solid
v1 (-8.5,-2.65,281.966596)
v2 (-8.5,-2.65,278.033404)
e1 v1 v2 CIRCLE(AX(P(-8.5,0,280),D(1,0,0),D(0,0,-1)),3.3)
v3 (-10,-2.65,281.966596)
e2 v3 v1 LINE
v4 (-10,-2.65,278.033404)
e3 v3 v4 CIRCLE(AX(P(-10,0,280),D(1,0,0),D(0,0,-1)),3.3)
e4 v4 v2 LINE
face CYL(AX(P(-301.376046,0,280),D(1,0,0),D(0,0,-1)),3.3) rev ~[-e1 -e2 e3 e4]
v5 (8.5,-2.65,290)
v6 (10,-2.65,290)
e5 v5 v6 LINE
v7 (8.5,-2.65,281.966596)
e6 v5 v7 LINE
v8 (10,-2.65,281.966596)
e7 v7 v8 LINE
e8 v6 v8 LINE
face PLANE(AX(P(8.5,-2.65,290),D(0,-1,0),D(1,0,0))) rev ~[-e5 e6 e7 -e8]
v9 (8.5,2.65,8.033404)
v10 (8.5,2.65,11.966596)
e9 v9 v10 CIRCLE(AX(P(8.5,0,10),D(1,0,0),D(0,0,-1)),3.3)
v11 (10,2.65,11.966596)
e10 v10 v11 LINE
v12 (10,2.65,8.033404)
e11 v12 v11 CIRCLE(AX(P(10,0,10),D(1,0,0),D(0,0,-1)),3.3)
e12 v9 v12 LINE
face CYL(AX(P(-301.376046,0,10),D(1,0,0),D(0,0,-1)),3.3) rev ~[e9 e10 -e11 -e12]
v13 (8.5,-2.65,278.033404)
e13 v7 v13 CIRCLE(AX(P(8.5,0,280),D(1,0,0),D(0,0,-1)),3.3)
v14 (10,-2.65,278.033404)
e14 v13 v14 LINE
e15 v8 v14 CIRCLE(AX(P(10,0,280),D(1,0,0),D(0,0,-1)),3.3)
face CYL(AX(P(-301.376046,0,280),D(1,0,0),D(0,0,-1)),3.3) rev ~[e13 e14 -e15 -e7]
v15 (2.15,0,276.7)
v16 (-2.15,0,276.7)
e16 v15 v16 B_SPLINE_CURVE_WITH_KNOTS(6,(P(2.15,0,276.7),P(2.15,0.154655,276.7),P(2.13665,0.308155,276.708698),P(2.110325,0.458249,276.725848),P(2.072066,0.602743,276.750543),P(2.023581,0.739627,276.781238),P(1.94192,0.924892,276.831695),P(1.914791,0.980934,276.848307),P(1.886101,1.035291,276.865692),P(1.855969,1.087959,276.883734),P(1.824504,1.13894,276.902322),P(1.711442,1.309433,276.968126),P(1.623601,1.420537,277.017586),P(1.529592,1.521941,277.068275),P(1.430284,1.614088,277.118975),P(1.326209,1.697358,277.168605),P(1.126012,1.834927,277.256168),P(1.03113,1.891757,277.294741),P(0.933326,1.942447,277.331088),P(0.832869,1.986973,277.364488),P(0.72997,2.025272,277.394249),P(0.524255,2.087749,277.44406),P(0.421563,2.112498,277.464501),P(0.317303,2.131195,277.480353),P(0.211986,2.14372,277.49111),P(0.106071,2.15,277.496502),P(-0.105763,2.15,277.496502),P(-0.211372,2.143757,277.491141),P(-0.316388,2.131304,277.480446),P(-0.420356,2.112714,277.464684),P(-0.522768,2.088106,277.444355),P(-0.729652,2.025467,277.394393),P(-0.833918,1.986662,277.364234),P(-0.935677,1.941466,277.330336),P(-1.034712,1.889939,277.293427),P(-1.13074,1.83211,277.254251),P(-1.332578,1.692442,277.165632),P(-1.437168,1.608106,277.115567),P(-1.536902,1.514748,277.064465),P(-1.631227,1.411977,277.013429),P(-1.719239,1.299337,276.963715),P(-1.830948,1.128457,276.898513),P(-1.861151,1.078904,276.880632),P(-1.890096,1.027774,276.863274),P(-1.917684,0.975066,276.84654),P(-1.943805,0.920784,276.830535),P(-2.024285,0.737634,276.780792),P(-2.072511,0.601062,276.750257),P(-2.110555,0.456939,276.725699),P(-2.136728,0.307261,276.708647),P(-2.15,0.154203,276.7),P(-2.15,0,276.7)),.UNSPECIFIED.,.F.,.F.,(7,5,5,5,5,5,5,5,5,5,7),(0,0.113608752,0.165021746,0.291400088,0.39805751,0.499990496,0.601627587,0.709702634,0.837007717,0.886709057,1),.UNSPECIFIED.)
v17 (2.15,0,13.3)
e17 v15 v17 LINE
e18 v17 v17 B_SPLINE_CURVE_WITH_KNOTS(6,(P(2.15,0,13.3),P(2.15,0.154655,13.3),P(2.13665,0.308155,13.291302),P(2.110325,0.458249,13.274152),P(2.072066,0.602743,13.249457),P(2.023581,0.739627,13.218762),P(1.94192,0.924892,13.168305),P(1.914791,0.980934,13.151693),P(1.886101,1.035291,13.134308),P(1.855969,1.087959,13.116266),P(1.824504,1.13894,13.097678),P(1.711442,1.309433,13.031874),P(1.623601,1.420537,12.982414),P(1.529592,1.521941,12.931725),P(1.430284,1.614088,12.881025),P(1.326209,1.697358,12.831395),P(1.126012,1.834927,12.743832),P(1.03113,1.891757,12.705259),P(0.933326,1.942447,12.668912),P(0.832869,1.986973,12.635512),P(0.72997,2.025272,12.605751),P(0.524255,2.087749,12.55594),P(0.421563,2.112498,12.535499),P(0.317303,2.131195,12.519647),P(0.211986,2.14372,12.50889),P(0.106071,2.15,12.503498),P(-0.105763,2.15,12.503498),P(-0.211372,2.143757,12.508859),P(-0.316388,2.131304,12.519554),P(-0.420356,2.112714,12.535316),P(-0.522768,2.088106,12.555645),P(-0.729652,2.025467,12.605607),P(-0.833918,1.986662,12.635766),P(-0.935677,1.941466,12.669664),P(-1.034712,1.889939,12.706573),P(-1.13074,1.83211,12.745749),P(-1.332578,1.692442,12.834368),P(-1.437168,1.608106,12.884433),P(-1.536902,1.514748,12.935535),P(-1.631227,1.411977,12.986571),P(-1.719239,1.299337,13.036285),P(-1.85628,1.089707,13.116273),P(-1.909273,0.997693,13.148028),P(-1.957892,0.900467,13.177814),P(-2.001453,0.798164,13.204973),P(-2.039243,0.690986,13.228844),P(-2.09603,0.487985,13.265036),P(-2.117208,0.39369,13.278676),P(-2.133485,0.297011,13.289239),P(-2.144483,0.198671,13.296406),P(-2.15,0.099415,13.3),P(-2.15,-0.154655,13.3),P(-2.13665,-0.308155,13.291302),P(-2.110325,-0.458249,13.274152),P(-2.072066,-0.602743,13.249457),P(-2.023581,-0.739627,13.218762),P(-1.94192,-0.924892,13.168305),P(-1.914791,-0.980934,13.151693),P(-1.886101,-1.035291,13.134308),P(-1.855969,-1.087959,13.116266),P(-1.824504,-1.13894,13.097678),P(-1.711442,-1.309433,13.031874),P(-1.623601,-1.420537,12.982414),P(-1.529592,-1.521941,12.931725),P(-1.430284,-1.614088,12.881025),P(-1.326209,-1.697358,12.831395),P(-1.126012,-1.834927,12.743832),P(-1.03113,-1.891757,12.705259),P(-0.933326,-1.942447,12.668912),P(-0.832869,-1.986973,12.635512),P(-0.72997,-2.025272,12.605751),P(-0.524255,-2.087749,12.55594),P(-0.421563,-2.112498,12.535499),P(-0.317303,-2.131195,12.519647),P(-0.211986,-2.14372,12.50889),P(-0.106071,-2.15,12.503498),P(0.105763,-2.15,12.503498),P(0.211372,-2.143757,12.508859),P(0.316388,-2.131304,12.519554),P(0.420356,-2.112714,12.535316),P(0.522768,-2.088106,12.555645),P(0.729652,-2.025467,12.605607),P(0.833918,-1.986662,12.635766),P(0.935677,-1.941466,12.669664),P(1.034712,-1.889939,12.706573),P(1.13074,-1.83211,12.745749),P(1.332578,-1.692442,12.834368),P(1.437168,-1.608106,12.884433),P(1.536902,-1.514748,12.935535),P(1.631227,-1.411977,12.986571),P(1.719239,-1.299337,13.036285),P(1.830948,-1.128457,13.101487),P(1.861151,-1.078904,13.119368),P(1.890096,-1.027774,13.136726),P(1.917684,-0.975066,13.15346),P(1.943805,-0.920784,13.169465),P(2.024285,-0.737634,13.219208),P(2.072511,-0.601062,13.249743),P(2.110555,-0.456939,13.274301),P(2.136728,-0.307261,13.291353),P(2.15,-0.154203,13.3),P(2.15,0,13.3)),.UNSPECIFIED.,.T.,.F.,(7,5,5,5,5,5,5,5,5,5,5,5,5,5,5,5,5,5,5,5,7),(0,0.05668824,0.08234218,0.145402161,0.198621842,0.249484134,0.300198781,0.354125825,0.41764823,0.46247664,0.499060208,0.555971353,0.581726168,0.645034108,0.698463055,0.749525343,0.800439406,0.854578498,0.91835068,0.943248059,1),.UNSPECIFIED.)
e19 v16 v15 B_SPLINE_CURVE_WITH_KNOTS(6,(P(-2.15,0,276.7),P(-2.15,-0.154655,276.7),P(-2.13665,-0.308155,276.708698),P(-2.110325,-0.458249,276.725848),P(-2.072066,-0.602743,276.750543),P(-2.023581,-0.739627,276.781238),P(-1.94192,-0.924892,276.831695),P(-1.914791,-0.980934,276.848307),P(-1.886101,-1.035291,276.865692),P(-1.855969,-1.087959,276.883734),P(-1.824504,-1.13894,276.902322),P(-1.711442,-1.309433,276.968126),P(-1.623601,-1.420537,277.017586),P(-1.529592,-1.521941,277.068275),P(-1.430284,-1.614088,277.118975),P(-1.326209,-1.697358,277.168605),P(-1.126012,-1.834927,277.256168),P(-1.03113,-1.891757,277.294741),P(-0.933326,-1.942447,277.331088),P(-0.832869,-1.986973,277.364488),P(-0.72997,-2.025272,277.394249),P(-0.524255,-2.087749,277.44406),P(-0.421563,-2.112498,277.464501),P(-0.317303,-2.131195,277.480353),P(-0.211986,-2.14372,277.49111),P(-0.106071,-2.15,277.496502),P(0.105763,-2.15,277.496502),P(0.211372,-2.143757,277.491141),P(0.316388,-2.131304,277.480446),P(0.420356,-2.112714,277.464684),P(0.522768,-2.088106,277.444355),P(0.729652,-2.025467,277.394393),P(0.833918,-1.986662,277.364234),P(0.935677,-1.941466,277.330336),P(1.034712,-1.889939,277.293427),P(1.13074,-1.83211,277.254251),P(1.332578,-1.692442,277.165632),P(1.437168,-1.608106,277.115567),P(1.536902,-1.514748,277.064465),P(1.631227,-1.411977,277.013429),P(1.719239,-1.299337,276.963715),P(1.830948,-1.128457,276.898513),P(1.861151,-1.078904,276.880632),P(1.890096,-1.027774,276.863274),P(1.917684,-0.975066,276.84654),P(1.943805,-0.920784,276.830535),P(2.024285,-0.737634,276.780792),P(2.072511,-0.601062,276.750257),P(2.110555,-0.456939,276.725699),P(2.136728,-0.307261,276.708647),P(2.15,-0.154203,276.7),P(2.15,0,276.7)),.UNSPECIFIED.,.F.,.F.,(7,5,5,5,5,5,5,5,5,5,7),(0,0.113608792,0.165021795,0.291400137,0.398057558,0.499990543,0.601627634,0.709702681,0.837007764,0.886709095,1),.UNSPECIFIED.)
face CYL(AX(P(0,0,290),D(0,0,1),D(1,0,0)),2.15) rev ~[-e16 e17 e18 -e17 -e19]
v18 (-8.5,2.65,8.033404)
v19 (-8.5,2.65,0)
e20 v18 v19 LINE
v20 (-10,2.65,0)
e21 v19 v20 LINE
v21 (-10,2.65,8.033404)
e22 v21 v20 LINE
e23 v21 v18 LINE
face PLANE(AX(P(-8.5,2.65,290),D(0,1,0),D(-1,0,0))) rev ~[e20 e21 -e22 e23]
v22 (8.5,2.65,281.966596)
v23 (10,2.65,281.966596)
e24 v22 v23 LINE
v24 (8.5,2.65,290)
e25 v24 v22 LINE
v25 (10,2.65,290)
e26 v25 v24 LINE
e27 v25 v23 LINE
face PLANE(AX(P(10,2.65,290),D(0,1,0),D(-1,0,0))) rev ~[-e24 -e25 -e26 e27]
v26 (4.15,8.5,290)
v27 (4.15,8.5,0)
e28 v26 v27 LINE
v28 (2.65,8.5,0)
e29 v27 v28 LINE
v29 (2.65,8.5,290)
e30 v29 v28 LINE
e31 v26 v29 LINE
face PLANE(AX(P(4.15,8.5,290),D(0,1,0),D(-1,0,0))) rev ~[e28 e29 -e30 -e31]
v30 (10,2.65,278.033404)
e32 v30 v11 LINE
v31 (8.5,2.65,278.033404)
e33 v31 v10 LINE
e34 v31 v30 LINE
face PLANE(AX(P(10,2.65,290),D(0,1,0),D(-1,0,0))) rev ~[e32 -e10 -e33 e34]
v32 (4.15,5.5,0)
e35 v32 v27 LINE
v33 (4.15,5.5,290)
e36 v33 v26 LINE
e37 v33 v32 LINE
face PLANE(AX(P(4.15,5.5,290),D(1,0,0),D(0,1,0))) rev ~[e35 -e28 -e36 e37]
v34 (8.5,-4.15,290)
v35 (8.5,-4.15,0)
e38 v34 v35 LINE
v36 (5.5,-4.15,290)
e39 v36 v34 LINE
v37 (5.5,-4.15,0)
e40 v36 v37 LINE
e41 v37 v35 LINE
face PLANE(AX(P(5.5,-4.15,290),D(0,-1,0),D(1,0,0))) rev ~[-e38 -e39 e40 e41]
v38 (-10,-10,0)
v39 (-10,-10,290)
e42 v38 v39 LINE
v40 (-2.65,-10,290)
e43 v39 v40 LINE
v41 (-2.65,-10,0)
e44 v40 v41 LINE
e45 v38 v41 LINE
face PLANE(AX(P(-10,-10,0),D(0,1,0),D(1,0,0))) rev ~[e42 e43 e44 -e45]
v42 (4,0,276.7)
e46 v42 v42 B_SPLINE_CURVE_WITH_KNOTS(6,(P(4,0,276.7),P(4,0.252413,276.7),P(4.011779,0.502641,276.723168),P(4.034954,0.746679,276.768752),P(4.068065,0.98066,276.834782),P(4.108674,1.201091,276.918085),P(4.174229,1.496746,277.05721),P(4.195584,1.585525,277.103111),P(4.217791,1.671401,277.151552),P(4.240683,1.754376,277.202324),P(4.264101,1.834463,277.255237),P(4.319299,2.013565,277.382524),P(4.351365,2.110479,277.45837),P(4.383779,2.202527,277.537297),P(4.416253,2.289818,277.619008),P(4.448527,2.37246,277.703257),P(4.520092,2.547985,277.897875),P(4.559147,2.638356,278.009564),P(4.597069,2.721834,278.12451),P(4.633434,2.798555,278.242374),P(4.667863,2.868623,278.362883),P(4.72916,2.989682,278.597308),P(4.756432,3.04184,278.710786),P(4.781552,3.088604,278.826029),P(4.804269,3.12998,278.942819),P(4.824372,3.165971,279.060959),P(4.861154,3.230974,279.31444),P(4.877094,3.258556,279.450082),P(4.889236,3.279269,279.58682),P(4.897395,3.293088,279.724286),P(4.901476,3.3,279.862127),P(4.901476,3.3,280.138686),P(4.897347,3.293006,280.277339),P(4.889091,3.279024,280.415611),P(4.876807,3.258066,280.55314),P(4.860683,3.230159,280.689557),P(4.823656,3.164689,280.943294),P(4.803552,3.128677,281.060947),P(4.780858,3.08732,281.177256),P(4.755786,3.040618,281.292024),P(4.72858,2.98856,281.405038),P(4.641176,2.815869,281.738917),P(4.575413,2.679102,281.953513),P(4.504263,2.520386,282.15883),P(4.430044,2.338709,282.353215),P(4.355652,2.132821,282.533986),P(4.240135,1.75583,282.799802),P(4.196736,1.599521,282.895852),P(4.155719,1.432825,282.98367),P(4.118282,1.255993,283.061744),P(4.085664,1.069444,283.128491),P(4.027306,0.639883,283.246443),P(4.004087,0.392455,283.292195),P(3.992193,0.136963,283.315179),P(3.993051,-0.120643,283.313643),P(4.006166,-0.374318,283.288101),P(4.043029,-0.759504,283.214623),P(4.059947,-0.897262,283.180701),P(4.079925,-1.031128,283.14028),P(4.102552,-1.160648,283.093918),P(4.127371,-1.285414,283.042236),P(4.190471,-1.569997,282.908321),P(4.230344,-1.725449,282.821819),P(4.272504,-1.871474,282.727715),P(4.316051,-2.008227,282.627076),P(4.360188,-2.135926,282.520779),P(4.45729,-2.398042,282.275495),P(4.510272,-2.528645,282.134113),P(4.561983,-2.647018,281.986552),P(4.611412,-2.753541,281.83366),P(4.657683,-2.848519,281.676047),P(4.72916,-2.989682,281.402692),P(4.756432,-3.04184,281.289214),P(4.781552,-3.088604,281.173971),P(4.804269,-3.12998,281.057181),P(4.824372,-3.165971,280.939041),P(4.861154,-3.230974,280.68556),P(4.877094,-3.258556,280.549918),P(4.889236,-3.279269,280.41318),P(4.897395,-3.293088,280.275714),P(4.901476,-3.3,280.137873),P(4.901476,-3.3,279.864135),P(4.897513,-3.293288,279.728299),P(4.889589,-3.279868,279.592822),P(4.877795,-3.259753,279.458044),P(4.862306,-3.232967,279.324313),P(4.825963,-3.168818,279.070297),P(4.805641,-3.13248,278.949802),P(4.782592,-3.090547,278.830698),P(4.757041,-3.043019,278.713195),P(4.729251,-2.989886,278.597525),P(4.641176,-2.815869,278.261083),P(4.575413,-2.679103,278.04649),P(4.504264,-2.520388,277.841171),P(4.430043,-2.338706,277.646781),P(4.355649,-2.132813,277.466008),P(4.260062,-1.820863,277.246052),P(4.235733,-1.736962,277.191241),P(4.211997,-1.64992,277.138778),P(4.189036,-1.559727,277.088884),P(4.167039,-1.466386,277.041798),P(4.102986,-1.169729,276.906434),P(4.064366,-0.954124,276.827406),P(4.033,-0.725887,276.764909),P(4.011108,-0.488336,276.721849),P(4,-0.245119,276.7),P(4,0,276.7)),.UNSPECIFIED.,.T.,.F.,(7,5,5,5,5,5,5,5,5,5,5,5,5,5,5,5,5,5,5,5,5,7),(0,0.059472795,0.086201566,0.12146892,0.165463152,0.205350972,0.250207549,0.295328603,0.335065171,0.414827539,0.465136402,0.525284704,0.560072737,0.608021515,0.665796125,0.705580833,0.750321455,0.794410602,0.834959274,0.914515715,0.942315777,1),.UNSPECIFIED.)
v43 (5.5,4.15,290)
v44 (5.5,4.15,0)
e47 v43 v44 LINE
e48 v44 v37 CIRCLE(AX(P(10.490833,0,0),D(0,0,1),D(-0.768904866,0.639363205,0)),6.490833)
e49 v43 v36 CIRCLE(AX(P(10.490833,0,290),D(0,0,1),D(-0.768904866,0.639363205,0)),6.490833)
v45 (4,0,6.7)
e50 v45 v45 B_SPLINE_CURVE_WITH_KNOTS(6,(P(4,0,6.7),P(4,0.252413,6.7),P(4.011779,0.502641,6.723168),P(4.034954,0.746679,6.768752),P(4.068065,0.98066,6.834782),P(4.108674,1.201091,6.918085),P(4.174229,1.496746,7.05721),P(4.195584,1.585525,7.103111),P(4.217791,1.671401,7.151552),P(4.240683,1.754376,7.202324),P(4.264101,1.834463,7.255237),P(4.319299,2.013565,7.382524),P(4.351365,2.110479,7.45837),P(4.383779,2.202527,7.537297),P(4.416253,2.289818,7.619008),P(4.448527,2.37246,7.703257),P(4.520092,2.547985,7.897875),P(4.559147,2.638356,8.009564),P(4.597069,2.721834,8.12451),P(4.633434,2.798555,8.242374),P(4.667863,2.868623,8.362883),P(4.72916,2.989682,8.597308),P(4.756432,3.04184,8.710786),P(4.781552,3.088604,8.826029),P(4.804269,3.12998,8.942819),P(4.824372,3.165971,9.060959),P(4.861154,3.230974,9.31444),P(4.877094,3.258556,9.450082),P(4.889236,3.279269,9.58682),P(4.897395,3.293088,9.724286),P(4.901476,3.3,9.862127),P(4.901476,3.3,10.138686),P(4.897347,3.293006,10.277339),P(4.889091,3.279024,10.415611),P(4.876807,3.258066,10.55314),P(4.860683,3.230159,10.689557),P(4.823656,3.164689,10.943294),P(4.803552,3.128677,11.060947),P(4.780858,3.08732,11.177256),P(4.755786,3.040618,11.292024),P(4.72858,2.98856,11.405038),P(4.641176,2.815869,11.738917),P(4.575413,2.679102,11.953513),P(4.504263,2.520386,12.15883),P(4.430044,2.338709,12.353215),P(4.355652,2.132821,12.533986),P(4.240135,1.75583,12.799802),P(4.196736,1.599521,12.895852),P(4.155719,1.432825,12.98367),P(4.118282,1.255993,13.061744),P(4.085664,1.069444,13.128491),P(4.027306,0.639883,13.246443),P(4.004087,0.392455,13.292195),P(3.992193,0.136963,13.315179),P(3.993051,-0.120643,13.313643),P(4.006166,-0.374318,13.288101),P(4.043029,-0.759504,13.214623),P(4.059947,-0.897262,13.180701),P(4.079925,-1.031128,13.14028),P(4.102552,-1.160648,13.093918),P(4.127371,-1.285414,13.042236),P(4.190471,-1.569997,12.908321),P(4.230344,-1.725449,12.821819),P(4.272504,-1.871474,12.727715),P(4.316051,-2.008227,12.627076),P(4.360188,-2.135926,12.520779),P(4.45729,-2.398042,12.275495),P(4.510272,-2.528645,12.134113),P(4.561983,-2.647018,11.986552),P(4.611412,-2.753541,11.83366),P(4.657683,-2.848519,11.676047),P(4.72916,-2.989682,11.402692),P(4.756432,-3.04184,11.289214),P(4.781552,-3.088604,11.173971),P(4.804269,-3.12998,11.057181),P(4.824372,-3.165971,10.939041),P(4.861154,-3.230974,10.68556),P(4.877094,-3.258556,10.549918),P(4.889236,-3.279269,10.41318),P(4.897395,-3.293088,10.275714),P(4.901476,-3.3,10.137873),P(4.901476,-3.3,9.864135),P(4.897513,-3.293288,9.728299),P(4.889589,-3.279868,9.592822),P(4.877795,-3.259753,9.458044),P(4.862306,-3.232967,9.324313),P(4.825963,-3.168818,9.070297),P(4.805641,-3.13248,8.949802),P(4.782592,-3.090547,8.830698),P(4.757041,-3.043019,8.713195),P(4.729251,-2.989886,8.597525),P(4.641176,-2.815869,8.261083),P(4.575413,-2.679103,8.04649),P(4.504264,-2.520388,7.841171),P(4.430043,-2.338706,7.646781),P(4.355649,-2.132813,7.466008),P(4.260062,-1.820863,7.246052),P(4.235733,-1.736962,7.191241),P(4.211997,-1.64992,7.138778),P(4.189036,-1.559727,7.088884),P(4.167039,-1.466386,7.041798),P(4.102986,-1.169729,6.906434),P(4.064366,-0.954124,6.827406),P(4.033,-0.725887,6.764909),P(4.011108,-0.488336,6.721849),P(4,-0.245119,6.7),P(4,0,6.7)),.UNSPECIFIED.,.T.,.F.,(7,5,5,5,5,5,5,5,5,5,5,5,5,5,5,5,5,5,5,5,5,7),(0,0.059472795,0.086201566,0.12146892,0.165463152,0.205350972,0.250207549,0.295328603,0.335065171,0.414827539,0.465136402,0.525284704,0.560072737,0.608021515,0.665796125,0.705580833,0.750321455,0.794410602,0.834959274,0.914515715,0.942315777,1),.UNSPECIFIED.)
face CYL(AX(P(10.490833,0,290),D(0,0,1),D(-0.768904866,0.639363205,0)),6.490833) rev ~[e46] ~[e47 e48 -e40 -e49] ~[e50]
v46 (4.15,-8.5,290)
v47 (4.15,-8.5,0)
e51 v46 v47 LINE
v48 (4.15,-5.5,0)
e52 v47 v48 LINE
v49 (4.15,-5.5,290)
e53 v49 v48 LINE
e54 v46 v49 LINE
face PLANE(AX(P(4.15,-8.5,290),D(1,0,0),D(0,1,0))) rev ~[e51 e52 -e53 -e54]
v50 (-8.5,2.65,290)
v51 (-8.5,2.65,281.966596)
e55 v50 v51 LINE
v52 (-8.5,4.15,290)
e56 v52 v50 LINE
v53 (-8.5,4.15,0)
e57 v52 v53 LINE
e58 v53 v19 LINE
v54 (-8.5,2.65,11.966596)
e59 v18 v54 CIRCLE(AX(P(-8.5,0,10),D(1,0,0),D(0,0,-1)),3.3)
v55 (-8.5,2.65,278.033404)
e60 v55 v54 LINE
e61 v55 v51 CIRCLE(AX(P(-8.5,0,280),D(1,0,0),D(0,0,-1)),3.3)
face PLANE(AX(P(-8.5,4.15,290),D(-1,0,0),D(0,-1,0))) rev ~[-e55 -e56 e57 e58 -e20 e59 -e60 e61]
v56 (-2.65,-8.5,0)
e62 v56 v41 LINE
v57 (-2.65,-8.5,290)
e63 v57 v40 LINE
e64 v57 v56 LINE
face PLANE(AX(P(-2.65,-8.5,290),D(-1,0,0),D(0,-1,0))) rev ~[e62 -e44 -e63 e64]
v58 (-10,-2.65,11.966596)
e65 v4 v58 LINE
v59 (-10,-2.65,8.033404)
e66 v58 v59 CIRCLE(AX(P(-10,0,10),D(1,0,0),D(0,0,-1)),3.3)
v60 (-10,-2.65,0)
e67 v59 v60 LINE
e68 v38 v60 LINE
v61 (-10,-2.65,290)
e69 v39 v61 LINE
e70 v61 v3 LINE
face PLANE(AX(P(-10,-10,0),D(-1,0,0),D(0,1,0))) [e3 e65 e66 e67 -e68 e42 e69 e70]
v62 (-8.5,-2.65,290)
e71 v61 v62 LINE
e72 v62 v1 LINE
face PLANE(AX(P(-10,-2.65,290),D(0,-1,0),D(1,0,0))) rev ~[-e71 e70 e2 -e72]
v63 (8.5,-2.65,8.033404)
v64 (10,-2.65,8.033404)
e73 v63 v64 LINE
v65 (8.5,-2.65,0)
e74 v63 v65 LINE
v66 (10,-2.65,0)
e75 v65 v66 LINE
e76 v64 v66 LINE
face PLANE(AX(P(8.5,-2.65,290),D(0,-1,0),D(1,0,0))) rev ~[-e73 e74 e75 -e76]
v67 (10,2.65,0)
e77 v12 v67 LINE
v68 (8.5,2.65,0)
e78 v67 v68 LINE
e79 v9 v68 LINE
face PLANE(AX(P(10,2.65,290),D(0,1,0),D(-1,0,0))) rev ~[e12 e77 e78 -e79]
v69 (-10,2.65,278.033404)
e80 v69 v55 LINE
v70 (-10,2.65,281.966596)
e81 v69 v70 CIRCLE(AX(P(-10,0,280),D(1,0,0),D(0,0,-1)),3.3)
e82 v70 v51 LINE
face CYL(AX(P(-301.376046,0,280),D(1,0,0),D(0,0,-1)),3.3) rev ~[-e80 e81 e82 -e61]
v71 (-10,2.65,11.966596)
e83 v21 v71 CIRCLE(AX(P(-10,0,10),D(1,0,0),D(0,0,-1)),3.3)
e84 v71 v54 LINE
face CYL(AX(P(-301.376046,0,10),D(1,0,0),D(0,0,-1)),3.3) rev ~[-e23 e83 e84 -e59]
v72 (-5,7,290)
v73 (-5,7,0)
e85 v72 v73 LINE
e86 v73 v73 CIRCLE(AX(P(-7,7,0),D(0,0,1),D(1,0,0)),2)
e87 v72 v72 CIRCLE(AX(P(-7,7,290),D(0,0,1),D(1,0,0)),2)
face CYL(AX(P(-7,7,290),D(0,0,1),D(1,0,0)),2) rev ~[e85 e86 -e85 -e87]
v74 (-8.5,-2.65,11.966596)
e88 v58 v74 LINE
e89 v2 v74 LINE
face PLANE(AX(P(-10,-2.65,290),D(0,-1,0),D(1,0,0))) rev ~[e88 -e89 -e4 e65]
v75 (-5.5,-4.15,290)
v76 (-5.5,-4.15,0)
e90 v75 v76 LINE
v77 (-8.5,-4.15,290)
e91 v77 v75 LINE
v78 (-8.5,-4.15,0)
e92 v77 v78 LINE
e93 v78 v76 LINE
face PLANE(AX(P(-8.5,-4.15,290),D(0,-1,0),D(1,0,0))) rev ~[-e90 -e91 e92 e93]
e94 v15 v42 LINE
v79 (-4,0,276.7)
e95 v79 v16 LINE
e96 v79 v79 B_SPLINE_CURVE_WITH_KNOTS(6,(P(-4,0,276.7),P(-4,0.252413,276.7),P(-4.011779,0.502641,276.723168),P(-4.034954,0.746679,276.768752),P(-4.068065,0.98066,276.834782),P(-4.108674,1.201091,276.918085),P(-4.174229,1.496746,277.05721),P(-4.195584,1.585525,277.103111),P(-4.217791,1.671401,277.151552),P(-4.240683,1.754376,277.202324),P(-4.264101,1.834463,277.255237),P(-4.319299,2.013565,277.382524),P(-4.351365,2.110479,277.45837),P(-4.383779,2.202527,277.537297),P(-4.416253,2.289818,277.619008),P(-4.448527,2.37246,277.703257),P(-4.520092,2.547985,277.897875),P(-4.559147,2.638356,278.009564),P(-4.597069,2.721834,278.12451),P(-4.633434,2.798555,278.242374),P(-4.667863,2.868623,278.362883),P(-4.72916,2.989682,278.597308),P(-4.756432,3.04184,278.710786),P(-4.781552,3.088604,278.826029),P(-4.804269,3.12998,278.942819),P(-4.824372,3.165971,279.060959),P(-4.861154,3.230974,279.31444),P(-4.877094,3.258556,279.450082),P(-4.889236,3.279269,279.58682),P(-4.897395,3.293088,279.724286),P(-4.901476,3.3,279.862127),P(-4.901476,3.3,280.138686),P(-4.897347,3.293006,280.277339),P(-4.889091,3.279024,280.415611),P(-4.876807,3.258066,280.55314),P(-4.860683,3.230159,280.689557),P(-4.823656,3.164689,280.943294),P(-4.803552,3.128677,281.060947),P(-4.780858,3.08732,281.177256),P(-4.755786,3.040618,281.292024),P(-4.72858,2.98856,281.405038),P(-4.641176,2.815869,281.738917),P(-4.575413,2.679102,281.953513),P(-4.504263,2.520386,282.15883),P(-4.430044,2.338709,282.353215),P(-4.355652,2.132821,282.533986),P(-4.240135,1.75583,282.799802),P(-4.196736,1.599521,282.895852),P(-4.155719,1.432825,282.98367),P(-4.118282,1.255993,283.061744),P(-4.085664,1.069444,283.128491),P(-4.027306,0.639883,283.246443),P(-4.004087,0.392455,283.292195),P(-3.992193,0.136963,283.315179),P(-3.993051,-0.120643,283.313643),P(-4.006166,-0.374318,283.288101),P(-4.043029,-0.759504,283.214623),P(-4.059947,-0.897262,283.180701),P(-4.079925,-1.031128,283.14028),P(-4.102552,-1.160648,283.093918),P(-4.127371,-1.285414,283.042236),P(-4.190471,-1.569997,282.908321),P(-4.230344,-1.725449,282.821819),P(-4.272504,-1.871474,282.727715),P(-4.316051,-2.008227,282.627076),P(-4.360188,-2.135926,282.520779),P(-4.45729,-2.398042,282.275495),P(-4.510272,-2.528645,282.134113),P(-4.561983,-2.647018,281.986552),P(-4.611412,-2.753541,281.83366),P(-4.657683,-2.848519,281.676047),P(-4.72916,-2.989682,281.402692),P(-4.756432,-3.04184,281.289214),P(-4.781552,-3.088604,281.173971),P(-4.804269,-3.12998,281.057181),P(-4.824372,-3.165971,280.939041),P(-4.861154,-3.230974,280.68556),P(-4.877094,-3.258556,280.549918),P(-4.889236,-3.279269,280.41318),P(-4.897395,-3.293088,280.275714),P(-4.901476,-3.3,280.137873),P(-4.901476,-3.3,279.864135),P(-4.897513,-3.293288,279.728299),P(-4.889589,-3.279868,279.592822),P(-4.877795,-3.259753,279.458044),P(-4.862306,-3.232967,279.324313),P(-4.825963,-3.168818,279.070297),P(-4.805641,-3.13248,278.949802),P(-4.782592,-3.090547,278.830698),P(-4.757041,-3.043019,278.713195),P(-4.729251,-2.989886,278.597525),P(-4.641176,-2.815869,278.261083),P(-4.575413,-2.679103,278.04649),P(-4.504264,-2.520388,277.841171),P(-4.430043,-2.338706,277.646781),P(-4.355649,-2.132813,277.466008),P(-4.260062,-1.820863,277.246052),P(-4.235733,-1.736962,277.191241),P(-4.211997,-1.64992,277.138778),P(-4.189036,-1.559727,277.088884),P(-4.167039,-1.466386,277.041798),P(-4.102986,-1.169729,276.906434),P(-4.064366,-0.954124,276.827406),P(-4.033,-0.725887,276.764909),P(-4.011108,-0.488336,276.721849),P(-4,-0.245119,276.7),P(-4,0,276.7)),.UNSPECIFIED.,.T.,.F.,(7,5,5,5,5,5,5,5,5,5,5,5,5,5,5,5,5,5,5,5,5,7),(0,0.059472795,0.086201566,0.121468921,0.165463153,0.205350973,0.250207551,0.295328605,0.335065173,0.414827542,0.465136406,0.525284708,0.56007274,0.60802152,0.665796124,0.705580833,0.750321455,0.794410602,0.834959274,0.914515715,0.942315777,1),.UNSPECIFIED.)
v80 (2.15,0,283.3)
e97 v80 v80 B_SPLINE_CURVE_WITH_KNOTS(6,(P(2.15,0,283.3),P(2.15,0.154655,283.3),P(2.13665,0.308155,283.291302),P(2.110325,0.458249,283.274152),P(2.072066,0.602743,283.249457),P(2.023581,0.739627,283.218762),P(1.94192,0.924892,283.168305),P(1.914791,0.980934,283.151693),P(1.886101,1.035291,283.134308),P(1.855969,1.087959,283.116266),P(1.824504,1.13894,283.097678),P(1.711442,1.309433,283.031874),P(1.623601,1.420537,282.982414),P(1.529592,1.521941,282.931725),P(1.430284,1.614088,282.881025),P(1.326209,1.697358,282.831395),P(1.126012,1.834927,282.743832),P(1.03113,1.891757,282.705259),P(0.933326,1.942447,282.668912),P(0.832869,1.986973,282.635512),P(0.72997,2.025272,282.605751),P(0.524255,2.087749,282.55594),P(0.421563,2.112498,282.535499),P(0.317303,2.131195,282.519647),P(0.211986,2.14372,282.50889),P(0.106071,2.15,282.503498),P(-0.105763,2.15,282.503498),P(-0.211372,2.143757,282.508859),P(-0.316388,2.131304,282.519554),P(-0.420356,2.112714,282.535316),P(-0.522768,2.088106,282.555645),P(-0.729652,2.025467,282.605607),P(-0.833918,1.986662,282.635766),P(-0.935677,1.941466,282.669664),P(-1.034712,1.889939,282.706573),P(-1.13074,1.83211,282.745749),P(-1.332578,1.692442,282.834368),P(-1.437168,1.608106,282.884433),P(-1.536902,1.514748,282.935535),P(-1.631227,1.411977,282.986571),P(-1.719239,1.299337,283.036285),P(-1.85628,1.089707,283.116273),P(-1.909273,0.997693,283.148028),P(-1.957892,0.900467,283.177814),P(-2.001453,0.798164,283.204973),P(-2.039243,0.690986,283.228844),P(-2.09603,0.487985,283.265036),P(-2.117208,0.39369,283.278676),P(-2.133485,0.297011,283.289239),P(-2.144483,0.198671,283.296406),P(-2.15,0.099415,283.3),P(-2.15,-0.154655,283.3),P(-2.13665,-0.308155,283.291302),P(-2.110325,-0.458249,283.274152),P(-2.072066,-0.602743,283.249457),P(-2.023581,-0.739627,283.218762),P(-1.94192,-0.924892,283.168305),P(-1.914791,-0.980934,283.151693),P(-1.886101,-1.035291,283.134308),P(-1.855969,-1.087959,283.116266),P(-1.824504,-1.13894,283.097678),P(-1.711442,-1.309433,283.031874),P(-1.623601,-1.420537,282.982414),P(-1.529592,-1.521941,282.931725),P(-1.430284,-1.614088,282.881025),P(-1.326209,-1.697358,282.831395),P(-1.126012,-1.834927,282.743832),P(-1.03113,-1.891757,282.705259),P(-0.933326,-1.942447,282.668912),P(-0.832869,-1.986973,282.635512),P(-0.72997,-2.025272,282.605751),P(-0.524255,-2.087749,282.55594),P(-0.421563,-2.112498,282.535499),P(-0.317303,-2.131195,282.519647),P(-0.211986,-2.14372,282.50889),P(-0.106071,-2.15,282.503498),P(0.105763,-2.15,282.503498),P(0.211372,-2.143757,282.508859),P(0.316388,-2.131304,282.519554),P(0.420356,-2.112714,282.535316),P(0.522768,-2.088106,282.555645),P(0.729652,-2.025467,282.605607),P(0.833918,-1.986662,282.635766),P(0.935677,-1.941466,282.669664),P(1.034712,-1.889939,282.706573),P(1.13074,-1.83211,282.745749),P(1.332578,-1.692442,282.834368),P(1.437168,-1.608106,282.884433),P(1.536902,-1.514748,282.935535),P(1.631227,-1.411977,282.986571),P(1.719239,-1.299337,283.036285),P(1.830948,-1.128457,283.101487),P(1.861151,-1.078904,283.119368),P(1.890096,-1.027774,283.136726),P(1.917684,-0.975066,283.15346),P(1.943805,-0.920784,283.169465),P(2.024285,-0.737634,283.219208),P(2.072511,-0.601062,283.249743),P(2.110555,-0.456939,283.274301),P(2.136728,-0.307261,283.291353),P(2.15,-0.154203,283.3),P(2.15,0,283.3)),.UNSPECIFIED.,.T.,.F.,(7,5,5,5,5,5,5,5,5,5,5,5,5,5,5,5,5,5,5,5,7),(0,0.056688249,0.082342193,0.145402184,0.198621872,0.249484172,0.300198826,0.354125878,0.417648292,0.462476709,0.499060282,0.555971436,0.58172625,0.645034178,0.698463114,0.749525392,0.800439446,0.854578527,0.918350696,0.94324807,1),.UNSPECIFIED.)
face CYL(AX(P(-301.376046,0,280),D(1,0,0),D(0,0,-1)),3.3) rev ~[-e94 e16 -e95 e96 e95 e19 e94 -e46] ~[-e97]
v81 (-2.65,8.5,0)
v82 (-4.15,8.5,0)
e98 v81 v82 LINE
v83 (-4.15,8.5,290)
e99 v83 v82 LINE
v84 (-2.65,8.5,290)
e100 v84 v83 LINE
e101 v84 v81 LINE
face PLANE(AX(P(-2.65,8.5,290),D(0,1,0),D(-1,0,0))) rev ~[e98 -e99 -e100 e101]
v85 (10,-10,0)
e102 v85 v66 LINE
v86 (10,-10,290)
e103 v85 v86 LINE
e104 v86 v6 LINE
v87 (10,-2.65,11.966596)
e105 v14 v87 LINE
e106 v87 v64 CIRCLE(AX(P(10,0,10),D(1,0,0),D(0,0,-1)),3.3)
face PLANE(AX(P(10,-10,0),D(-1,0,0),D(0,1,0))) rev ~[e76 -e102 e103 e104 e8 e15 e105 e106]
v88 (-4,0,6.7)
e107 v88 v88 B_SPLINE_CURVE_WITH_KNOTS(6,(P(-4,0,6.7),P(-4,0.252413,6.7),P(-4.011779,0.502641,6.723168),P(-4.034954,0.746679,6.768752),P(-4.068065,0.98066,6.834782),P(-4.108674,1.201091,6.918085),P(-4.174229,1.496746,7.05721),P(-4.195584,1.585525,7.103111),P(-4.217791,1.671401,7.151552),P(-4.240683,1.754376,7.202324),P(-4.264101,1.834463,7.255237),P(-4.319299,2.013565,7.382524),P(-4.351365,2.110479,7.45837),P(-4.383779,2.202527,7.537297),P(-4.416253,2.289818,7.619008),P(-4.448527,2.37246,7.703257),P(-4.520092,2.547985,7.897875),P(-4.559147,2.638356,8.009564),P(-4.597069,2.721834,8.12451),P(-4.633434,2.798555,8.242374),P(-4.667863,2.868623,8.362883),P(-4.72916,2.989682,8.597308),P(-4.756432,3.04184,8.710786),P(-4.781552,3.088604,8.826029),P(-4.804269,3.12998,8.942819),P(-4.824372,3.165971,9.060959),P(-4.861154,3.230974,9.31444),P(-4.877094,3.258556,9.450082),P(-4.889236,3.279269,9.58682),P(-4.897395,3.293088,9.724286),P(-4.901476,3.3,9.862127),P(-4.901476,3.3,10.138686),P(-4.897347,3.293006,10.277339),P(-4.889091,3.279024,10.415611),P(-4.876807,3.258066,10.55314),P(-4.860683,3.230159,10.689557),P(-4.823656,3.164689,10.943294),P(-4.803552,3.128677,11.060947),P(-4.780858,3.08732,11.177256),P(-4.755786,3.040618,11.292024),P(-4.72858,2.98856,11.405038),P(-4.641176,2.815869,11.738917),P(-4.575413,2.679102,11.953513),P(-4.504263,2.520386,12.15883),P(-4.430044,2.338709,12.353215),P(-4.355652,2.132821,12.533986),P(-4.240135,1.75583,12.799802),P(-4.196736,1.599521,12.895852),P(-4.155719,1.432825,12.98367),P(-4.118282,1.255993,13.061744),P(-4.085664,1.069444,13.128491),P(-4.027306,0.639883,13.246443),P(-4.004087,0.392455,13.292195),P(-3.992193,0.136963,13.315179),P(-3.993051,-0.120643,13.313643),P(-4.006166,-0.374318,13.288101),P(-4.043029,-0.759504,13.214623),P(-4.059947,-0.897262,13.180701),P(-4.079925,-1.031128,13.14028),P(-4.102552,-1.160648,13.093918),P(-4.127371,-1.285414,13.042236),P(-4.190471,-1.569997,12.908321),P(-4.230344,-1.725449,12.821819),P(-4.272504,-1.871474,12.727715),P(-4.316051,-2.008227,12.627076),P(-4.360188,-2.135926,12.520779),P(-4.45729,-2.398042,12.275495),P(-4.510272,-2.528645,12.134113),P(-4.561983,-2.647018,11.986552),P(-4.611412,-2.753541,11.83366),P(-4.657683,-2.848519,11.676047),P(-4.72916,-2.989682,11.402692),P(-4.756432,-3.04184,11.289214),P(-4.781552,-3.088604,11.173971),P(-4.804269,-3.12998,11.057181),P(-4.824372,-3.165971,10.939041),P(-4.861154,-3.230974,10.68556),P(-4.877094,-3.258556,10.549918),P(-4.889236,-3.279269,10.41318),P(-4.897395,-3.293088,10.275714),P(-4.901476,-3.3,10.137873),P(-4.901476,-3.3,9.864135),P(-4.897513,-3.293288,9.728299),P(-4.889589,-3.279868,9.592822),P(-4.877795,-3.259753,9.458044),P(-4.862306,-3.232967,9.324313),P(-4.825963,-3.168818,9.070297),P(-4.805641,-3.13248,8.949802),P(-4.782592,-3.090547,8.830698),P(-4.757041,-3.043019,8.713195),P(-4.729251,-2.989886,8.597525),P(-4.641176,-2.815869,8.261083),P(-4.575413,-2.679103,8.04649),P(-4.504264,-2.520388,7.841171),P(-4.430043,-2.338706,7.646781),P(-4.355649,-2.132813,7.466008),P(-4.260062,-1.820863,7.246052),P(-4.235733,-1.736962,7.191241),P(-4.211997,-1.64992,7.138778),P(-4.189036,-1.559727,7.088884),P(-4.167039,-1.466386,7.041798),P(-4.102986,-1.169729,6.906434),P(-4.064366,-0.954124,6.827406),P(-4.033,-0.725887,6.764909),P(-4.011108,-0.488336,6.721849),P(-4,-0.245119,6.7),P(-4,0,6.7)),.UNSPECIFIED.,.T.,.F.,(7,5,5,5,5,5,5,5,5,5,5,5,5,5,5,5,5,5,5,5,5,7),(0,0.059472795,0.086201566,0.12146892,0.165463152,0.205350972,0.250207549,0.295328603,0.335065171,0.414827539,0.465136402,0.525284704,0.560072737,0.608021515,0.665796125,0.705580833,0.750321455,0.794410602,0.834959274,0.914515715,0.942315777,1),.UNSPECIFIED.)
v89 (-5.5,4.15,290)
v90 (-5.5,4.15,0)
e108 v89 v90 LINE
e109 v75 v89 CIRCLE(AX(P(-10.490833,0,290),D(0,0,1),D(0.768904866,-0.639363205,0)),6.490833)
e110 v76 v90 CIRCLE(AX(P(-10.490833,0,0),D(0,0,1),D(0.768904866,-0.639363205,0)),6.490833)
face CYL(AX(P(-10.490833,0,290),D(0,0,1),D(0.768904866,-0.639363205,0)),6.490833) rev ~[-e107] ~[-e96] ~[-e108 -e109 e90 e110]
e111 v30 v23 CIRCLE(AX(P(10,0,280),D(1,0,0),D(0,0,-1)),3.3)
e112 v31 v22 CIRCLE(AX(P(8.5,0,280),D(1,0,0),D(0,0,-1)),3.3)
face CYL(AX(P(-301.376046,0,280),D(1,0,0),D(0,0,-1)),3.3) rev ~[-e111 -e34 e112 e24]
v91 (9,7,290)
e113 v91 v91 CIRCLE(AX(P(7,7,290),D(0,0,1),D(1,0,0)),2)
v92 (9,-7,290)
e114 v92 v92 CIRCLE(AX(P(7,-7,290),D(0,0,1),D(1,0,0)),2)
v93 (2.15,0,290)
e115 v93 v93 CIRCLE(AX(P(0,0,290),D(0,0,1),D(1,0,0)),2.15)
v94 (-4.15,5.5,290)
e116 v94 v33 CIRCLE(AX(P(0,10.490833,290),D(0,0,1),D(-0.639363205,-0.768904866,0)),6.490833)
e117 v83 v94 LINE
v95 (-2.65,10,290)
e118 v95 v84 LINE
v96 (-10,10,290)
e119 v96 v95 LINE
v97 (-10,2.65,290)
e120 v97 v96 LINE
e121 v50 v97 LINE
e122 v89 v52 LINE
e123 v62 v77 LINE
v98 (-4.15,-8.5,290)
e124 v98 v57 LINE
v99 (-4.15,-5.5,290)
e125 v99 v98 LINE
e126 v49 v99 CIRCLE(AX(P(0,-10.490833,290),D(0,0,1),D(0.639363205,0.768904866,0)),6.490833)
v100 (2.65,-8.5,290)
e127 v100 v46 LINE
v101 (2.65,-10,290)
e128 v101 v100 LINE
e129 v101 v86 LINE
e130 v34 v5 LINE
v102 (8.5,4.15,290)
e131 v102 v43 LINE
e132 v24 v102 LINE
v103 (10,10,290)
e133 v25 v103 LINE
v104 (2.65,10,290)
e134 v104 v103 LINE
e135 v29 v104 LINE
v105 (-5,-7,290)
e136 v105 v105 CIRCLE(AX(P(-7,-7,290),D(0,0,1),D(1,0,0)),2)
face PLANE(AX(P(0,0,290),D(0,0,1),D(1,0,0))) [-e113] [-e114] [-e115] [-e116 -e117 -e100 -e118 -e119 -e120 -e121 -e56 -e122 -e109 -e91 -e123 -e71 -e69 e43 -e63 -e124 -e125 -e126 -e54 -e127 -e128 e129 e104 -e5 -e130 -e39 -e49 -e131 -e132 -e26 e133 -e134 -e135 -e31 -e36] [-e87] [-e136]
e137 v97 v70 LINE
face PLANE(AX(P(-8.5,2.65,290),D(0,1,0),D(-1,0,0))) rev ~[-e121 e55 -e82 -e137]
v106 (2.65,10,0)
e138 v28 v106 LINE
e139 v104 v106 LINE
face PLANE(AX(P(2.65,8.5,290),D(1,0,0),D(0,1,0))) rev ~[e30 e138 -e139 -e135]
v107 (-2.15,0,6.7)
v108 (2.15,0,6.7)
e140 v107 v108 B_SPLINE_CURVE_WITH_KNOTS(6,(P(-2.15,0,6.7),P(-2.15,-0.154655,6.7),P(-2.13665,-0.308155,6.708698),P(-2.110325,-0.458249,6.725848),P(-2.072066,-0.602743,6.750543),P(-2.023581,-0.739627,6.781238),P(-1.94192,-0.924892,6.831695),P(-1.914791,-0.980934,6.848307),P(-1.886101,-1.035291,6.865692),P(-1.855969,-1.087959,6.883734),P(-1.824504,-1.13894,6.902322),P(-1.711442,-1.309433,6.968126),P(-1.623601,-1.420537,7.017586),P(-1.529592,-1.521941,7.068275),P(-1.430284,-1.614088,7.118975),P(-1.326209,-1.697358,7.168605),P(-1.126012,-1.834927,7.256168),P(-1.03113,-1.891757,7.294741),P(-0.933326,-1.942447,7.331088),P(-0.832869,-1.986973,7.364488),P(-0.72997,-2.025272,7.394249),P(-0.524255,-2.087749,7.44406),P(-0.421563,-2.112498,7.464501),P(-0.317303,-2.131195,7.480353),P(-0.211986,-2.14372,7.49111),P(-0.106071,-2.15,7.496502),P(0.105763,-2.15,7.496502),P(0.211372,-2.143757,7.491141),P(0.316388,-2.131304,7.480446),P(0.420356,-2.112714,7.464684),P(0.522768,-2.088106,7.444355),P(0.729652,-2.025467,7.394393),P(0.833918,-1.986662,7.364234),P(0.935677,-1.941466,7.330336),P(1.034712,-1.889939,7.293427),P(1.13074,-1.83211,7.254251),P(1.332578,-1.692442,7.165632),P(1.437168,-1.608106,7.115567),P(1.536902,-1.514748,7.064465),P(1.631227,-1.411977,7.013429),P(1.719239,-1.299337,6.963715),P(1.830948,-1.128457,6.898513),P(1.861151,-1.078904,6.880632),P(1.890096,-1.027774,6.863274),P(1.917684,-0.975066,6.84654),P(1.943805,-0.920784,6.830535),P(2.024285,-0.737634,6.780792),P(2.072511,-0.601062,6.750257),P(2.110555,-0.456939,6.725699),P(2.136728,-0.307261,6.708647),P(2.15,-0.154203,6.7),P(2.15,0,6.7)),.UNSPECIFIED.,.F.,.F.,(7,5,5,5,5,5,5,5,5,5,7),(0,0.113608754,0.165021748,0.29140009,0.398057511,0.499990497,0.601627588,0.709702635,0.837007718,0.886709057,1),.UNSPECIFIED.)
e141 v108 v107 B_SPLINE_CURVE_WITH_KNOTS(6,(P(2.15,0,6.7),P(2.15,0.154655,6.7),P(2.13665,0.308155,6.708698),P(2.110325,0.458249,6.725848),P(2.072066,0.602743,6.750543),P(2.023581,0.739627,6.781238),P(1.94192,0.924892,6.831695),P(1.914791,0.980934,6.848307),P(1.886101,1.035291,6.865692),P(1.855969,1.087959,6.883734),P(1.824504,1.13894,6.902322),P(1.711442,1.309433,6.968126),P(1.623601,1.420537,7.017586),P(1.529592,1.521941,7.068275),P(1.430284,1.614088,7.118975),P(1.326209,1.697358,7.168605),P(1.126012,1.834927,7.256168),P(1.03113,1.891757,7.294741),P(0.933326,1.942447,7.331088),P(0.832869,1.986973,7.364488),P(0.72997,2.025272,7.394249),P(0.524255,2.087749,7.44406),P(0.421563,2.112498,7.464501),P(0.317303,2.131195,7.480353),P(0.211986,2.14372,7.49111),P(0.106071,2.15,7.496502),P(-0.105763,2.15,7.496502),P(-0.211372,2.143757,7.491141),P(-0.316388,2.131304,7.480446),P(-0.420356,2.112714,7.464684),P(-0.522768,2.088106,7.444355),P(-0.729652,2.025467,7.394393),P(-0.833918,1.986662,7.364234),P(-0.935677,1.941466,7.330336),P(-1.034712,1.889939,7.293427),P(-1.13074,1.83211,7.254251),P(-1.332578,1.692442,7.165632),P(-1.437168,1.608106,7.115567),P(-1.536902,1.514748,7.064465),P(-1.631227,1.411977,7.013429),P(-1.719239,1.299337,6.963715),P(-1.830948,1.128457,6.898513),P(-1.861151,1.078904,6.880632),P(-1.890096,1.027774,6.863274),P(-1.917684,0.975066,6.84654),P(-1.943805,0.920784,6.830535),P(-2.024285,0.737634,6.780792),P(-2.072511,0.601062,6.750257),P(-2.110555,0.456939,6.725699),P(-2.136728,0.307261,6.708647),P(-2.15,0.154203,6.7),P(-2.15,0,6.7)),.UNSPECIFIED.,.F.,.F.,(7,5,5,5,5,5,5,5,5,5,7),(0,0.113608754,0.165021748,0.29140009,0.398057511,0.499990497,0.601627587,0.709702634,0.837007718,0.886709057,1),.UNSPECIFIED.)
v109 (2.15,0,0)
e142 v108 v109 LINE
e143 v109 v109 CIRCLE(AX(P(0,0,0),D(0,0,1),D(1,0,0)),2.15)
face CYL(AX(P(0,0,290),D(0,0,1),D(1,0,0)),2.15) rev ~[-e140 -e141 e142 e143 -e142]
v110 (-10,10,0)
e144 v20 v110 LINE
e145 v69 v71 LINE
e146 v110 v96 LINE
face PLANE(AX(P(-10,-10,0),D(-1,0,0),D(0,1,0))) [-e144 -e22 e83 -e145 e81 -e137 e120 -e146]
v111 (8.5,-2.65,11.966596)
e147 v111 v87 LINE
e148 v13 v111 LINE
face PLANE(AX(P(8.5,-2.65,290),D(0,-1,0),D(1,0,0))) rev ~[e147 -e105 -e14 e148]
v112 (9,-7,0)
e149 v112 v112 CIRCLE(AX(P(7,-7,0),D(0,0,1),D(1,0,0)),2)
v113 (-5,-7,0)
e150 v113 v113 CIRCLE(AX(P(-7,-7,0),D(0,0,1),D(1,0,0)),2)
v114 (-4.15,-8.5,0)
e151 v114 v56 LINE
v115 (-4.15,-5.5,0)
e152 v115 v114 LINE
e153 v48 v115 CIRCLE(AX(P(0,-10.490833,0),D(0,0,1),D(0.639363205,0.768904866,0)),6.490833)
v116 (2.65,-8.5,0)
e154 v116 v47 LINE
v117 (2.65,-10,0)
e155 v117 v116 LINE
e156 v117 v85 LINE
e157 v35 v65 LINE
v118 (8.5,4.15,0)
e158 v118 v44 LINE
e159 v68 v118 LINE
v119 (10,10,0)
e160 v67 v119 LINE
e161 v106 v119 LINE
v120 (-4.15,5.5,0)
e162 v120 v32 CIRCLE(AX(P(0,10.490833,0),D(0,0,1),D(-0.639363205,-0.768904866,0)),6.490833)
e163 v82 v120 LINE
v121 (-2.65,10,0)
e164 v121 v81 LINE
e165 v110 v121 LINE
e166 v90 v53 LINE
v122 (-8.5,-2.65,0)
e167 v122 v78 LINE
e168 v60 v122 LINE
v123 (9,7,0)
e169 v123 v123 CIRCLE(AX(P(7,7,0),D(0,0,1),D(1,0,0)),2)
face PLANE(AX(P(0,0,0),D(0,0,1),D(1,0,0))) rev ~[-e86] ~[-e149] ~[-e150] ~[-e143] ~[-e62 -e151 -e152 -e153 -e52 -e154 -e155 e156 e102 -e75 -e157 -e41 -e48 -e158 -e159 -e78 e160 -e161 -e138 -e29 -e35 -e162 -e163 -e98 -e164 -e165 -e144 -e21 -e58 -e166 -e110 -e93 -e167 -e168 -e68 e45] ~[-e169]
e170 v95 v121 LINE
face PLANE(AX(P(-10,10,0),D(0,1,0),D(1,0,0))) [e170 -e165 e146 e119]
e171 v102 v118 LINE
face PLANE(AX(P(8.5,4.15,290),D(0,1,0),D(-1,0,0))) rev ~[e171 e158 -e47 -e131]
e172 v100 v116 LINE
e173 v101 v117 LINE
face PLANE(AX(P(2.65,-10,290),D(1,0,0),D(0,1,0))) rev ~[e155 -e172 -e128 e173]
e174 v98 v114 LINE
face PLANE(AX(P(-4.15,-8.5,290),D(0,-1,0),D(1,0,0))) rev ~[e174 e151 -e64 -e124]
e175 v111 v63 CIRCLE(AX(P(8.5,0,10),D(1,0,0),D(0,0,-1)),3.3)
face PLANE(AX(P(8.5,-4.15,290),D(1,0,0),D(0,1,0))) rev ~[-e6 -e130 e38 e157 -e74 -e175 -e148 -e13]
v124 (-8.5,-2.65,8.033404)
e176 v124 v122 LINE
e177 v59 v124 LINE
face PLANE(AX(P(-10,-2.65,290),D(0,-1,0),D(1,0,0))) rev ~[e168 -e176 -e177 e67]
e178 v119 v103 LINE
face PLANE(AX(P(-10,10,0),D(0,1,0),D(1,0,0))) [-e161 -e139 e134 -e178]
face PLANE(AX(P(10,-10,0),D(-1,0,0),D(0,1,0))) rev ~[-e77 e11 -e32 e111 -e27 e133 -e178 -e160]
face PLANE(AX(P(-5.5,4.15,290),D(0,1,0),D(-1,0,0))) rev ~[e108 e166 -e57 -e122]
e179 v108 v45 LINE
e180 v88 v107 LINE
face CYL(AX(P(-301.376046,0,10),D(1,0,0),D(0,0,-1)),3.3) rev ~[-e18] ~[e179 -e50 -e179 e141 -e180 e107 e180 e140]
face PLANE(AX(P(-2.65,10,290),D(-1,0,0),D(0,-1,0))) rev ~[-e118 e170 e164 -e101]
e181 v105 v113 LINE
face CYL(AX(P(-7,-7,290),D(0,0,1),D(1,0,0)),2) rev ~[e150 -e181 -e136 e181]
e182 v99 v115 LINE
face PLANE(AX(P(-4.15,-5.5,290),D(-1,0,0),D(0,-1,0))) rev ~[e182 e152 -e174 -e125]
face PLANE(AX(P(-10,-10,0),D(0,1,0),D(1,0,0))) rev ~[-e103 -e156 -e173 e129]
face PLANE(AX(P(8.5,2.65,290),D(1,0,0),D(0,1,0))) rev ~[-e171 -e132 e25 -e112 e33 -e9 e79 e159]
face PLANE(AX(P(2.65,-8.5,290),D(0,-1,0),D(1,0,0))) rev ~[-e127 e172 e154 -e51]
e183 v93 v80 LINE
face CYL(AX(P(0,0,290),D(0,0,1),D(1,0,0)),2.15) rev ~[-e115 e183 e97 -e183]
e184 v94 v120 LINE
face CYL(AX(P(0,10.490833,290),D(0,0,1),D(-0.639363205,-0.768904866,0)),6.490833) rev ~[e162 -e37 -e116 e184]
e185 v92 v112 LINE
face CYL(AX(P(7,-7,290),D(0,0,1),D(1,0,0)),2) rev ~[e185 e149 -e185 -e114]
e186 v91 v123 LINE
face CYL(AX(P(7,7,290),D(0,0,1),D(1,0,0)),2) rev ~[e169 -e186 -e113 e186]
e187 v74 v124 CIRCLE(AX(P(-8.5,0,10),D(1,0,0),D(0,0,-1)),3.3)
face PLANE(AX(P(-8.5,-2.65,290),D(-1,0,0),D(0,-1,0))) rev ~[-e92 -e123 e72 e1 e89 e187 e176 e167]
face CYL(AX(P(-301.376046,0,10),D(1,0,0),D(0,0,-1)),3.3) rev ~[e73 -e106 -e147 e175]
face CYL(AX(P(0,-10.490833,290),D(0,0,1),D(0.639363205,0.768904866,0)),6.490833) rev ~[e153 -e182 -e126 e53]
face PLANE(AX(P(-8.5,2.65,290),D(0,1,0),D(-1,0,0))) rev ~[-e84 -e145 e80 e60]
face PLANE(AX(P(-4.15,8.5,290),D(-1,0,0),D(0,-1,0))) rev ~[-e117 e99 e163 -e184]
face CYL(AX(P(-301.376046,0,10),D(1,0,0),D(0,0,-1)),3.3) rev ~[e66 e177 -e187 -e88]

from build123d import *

# Parameters (mm, degrees)
SKETCH_1_W          = 20
SKETCH_1_H          = 20
EXTRUDE_1_DEPTH     = 290
SKETCH_2_R          = 2.15
SKETCH_2_R_2        = 2
CUT_EXTRUDE_1_DEPTH = 291.344622819
HOLE_WIZARD_M6_1_D  = 6.6


with BuildPart() as part:
    # 스케치1 → 보스-돌출1 (new body)
    with BuildSketch(Plane.XY):
        Rectangle(SKETCH_1_W, SKETCH_1_H)
    extrude(amount=EXTRUDE_1_DEPTH)

    # 스케치2 → 컷-돌출1 (cut, through all)
    with BuildSketch(Plane.XY.offset(290)):
        Circle(SKETCH_2_R)
        with Locations((-7, 7)):
            Circle(SKETCH_2_R_2)
        with Locations((7, 7)):
            Circle(SKETCH_2_R_2)
        with Locations((7, -7)):
            Circle(SKETCH_2_R_2)
        with Locations((-7, -7)):
            Circle(SKETCH_2_R_2)
        with BuildLine():
            Line((-2.65, 10), (-2.65, 8.5))
            Line((-2.65, 8.5), (-4.15, 8.5))
            Line((-4.15, 8.5), (-4.15, 5.5))
            ThreePointArc((-4.15, 5.5), (0, 4), (4.15, 5.5))
            Line((4.15, 5.5), (4.15, 8.5))
            Line((4.15, 8.5), (2.65, 8.5))
            Line((2.65, 8.5), (2.65, 10))
            Line((2.65, 10), (-2.65, 10))
        make_face()
        with BuildLine():
            Line((10, 2.65), (8.5, 2.65))
            Line((8.5, 2.65), (8.5, 4.15))
            Line((8.5, 4.15), (5.5, 4.15))
            ThreePointArc((5.5, 4.15), (4, 0), (5.5, -4.15))
            Line((5.5, -4.15), (8.5, -4.15))
            Line((8.5, -4.15), (8.5, -2.65))
            Line((8.5, -2.65), (10, -2.65))
            Line((10, -2.65), (10, 2.65))
        make_face()
        with BuildLine():
            Line((2.65, -10), (2.65, -8.5))
            Line((2.65, -8.5), (4.15, -8.5))
            Line((4.15, -8.5), (4.15, -5.5))
            ThreePointArc((4.15, -5.5), (0, -4), (-4.15, -5.5))
            Line((-4.15, -5.5), (-4.15, -8.5))
            Line((-4.15, -8.5), (-2.65, -8.5))
            Line((-2.65, -8.5), (-2.65, -10))
            Line((-2.65, -10), (2.65, -10))
        make_face()
        with BuildLine():
            Line((-10, -2.65), (-8.5, -2.65))
            Line((-8.5, -2.65), (-8.5, -4.15))
            Line((-8.5, -4.15), (-5.5, -4.15))
            ThreePointArc((-5.5, -4.15), (-4, 0), (-5.5, 4.15))
            Line((-5.5, 4.15), (-8.5, 4.15))
            Line((-8.5, 4.15), (-8.5, 2.65))
            Line((-8.5, 2.65), (-10, 2.65))
            Line((-10, 2.65), (-10, -2.65))
        make_face()
    extrude(amount=-CUT_EXTRUDE_1_DEPTH, mode=Mode.SUBTRACT)

    # M6 여유 구멍1 (through all)
    with Locations(Plane.ZY.offset(10)):
        with Locations((10, 0), (280, 0)):
            Hole(HOLE_WIZARD_M6_1_D / 2)


solid = part.part
